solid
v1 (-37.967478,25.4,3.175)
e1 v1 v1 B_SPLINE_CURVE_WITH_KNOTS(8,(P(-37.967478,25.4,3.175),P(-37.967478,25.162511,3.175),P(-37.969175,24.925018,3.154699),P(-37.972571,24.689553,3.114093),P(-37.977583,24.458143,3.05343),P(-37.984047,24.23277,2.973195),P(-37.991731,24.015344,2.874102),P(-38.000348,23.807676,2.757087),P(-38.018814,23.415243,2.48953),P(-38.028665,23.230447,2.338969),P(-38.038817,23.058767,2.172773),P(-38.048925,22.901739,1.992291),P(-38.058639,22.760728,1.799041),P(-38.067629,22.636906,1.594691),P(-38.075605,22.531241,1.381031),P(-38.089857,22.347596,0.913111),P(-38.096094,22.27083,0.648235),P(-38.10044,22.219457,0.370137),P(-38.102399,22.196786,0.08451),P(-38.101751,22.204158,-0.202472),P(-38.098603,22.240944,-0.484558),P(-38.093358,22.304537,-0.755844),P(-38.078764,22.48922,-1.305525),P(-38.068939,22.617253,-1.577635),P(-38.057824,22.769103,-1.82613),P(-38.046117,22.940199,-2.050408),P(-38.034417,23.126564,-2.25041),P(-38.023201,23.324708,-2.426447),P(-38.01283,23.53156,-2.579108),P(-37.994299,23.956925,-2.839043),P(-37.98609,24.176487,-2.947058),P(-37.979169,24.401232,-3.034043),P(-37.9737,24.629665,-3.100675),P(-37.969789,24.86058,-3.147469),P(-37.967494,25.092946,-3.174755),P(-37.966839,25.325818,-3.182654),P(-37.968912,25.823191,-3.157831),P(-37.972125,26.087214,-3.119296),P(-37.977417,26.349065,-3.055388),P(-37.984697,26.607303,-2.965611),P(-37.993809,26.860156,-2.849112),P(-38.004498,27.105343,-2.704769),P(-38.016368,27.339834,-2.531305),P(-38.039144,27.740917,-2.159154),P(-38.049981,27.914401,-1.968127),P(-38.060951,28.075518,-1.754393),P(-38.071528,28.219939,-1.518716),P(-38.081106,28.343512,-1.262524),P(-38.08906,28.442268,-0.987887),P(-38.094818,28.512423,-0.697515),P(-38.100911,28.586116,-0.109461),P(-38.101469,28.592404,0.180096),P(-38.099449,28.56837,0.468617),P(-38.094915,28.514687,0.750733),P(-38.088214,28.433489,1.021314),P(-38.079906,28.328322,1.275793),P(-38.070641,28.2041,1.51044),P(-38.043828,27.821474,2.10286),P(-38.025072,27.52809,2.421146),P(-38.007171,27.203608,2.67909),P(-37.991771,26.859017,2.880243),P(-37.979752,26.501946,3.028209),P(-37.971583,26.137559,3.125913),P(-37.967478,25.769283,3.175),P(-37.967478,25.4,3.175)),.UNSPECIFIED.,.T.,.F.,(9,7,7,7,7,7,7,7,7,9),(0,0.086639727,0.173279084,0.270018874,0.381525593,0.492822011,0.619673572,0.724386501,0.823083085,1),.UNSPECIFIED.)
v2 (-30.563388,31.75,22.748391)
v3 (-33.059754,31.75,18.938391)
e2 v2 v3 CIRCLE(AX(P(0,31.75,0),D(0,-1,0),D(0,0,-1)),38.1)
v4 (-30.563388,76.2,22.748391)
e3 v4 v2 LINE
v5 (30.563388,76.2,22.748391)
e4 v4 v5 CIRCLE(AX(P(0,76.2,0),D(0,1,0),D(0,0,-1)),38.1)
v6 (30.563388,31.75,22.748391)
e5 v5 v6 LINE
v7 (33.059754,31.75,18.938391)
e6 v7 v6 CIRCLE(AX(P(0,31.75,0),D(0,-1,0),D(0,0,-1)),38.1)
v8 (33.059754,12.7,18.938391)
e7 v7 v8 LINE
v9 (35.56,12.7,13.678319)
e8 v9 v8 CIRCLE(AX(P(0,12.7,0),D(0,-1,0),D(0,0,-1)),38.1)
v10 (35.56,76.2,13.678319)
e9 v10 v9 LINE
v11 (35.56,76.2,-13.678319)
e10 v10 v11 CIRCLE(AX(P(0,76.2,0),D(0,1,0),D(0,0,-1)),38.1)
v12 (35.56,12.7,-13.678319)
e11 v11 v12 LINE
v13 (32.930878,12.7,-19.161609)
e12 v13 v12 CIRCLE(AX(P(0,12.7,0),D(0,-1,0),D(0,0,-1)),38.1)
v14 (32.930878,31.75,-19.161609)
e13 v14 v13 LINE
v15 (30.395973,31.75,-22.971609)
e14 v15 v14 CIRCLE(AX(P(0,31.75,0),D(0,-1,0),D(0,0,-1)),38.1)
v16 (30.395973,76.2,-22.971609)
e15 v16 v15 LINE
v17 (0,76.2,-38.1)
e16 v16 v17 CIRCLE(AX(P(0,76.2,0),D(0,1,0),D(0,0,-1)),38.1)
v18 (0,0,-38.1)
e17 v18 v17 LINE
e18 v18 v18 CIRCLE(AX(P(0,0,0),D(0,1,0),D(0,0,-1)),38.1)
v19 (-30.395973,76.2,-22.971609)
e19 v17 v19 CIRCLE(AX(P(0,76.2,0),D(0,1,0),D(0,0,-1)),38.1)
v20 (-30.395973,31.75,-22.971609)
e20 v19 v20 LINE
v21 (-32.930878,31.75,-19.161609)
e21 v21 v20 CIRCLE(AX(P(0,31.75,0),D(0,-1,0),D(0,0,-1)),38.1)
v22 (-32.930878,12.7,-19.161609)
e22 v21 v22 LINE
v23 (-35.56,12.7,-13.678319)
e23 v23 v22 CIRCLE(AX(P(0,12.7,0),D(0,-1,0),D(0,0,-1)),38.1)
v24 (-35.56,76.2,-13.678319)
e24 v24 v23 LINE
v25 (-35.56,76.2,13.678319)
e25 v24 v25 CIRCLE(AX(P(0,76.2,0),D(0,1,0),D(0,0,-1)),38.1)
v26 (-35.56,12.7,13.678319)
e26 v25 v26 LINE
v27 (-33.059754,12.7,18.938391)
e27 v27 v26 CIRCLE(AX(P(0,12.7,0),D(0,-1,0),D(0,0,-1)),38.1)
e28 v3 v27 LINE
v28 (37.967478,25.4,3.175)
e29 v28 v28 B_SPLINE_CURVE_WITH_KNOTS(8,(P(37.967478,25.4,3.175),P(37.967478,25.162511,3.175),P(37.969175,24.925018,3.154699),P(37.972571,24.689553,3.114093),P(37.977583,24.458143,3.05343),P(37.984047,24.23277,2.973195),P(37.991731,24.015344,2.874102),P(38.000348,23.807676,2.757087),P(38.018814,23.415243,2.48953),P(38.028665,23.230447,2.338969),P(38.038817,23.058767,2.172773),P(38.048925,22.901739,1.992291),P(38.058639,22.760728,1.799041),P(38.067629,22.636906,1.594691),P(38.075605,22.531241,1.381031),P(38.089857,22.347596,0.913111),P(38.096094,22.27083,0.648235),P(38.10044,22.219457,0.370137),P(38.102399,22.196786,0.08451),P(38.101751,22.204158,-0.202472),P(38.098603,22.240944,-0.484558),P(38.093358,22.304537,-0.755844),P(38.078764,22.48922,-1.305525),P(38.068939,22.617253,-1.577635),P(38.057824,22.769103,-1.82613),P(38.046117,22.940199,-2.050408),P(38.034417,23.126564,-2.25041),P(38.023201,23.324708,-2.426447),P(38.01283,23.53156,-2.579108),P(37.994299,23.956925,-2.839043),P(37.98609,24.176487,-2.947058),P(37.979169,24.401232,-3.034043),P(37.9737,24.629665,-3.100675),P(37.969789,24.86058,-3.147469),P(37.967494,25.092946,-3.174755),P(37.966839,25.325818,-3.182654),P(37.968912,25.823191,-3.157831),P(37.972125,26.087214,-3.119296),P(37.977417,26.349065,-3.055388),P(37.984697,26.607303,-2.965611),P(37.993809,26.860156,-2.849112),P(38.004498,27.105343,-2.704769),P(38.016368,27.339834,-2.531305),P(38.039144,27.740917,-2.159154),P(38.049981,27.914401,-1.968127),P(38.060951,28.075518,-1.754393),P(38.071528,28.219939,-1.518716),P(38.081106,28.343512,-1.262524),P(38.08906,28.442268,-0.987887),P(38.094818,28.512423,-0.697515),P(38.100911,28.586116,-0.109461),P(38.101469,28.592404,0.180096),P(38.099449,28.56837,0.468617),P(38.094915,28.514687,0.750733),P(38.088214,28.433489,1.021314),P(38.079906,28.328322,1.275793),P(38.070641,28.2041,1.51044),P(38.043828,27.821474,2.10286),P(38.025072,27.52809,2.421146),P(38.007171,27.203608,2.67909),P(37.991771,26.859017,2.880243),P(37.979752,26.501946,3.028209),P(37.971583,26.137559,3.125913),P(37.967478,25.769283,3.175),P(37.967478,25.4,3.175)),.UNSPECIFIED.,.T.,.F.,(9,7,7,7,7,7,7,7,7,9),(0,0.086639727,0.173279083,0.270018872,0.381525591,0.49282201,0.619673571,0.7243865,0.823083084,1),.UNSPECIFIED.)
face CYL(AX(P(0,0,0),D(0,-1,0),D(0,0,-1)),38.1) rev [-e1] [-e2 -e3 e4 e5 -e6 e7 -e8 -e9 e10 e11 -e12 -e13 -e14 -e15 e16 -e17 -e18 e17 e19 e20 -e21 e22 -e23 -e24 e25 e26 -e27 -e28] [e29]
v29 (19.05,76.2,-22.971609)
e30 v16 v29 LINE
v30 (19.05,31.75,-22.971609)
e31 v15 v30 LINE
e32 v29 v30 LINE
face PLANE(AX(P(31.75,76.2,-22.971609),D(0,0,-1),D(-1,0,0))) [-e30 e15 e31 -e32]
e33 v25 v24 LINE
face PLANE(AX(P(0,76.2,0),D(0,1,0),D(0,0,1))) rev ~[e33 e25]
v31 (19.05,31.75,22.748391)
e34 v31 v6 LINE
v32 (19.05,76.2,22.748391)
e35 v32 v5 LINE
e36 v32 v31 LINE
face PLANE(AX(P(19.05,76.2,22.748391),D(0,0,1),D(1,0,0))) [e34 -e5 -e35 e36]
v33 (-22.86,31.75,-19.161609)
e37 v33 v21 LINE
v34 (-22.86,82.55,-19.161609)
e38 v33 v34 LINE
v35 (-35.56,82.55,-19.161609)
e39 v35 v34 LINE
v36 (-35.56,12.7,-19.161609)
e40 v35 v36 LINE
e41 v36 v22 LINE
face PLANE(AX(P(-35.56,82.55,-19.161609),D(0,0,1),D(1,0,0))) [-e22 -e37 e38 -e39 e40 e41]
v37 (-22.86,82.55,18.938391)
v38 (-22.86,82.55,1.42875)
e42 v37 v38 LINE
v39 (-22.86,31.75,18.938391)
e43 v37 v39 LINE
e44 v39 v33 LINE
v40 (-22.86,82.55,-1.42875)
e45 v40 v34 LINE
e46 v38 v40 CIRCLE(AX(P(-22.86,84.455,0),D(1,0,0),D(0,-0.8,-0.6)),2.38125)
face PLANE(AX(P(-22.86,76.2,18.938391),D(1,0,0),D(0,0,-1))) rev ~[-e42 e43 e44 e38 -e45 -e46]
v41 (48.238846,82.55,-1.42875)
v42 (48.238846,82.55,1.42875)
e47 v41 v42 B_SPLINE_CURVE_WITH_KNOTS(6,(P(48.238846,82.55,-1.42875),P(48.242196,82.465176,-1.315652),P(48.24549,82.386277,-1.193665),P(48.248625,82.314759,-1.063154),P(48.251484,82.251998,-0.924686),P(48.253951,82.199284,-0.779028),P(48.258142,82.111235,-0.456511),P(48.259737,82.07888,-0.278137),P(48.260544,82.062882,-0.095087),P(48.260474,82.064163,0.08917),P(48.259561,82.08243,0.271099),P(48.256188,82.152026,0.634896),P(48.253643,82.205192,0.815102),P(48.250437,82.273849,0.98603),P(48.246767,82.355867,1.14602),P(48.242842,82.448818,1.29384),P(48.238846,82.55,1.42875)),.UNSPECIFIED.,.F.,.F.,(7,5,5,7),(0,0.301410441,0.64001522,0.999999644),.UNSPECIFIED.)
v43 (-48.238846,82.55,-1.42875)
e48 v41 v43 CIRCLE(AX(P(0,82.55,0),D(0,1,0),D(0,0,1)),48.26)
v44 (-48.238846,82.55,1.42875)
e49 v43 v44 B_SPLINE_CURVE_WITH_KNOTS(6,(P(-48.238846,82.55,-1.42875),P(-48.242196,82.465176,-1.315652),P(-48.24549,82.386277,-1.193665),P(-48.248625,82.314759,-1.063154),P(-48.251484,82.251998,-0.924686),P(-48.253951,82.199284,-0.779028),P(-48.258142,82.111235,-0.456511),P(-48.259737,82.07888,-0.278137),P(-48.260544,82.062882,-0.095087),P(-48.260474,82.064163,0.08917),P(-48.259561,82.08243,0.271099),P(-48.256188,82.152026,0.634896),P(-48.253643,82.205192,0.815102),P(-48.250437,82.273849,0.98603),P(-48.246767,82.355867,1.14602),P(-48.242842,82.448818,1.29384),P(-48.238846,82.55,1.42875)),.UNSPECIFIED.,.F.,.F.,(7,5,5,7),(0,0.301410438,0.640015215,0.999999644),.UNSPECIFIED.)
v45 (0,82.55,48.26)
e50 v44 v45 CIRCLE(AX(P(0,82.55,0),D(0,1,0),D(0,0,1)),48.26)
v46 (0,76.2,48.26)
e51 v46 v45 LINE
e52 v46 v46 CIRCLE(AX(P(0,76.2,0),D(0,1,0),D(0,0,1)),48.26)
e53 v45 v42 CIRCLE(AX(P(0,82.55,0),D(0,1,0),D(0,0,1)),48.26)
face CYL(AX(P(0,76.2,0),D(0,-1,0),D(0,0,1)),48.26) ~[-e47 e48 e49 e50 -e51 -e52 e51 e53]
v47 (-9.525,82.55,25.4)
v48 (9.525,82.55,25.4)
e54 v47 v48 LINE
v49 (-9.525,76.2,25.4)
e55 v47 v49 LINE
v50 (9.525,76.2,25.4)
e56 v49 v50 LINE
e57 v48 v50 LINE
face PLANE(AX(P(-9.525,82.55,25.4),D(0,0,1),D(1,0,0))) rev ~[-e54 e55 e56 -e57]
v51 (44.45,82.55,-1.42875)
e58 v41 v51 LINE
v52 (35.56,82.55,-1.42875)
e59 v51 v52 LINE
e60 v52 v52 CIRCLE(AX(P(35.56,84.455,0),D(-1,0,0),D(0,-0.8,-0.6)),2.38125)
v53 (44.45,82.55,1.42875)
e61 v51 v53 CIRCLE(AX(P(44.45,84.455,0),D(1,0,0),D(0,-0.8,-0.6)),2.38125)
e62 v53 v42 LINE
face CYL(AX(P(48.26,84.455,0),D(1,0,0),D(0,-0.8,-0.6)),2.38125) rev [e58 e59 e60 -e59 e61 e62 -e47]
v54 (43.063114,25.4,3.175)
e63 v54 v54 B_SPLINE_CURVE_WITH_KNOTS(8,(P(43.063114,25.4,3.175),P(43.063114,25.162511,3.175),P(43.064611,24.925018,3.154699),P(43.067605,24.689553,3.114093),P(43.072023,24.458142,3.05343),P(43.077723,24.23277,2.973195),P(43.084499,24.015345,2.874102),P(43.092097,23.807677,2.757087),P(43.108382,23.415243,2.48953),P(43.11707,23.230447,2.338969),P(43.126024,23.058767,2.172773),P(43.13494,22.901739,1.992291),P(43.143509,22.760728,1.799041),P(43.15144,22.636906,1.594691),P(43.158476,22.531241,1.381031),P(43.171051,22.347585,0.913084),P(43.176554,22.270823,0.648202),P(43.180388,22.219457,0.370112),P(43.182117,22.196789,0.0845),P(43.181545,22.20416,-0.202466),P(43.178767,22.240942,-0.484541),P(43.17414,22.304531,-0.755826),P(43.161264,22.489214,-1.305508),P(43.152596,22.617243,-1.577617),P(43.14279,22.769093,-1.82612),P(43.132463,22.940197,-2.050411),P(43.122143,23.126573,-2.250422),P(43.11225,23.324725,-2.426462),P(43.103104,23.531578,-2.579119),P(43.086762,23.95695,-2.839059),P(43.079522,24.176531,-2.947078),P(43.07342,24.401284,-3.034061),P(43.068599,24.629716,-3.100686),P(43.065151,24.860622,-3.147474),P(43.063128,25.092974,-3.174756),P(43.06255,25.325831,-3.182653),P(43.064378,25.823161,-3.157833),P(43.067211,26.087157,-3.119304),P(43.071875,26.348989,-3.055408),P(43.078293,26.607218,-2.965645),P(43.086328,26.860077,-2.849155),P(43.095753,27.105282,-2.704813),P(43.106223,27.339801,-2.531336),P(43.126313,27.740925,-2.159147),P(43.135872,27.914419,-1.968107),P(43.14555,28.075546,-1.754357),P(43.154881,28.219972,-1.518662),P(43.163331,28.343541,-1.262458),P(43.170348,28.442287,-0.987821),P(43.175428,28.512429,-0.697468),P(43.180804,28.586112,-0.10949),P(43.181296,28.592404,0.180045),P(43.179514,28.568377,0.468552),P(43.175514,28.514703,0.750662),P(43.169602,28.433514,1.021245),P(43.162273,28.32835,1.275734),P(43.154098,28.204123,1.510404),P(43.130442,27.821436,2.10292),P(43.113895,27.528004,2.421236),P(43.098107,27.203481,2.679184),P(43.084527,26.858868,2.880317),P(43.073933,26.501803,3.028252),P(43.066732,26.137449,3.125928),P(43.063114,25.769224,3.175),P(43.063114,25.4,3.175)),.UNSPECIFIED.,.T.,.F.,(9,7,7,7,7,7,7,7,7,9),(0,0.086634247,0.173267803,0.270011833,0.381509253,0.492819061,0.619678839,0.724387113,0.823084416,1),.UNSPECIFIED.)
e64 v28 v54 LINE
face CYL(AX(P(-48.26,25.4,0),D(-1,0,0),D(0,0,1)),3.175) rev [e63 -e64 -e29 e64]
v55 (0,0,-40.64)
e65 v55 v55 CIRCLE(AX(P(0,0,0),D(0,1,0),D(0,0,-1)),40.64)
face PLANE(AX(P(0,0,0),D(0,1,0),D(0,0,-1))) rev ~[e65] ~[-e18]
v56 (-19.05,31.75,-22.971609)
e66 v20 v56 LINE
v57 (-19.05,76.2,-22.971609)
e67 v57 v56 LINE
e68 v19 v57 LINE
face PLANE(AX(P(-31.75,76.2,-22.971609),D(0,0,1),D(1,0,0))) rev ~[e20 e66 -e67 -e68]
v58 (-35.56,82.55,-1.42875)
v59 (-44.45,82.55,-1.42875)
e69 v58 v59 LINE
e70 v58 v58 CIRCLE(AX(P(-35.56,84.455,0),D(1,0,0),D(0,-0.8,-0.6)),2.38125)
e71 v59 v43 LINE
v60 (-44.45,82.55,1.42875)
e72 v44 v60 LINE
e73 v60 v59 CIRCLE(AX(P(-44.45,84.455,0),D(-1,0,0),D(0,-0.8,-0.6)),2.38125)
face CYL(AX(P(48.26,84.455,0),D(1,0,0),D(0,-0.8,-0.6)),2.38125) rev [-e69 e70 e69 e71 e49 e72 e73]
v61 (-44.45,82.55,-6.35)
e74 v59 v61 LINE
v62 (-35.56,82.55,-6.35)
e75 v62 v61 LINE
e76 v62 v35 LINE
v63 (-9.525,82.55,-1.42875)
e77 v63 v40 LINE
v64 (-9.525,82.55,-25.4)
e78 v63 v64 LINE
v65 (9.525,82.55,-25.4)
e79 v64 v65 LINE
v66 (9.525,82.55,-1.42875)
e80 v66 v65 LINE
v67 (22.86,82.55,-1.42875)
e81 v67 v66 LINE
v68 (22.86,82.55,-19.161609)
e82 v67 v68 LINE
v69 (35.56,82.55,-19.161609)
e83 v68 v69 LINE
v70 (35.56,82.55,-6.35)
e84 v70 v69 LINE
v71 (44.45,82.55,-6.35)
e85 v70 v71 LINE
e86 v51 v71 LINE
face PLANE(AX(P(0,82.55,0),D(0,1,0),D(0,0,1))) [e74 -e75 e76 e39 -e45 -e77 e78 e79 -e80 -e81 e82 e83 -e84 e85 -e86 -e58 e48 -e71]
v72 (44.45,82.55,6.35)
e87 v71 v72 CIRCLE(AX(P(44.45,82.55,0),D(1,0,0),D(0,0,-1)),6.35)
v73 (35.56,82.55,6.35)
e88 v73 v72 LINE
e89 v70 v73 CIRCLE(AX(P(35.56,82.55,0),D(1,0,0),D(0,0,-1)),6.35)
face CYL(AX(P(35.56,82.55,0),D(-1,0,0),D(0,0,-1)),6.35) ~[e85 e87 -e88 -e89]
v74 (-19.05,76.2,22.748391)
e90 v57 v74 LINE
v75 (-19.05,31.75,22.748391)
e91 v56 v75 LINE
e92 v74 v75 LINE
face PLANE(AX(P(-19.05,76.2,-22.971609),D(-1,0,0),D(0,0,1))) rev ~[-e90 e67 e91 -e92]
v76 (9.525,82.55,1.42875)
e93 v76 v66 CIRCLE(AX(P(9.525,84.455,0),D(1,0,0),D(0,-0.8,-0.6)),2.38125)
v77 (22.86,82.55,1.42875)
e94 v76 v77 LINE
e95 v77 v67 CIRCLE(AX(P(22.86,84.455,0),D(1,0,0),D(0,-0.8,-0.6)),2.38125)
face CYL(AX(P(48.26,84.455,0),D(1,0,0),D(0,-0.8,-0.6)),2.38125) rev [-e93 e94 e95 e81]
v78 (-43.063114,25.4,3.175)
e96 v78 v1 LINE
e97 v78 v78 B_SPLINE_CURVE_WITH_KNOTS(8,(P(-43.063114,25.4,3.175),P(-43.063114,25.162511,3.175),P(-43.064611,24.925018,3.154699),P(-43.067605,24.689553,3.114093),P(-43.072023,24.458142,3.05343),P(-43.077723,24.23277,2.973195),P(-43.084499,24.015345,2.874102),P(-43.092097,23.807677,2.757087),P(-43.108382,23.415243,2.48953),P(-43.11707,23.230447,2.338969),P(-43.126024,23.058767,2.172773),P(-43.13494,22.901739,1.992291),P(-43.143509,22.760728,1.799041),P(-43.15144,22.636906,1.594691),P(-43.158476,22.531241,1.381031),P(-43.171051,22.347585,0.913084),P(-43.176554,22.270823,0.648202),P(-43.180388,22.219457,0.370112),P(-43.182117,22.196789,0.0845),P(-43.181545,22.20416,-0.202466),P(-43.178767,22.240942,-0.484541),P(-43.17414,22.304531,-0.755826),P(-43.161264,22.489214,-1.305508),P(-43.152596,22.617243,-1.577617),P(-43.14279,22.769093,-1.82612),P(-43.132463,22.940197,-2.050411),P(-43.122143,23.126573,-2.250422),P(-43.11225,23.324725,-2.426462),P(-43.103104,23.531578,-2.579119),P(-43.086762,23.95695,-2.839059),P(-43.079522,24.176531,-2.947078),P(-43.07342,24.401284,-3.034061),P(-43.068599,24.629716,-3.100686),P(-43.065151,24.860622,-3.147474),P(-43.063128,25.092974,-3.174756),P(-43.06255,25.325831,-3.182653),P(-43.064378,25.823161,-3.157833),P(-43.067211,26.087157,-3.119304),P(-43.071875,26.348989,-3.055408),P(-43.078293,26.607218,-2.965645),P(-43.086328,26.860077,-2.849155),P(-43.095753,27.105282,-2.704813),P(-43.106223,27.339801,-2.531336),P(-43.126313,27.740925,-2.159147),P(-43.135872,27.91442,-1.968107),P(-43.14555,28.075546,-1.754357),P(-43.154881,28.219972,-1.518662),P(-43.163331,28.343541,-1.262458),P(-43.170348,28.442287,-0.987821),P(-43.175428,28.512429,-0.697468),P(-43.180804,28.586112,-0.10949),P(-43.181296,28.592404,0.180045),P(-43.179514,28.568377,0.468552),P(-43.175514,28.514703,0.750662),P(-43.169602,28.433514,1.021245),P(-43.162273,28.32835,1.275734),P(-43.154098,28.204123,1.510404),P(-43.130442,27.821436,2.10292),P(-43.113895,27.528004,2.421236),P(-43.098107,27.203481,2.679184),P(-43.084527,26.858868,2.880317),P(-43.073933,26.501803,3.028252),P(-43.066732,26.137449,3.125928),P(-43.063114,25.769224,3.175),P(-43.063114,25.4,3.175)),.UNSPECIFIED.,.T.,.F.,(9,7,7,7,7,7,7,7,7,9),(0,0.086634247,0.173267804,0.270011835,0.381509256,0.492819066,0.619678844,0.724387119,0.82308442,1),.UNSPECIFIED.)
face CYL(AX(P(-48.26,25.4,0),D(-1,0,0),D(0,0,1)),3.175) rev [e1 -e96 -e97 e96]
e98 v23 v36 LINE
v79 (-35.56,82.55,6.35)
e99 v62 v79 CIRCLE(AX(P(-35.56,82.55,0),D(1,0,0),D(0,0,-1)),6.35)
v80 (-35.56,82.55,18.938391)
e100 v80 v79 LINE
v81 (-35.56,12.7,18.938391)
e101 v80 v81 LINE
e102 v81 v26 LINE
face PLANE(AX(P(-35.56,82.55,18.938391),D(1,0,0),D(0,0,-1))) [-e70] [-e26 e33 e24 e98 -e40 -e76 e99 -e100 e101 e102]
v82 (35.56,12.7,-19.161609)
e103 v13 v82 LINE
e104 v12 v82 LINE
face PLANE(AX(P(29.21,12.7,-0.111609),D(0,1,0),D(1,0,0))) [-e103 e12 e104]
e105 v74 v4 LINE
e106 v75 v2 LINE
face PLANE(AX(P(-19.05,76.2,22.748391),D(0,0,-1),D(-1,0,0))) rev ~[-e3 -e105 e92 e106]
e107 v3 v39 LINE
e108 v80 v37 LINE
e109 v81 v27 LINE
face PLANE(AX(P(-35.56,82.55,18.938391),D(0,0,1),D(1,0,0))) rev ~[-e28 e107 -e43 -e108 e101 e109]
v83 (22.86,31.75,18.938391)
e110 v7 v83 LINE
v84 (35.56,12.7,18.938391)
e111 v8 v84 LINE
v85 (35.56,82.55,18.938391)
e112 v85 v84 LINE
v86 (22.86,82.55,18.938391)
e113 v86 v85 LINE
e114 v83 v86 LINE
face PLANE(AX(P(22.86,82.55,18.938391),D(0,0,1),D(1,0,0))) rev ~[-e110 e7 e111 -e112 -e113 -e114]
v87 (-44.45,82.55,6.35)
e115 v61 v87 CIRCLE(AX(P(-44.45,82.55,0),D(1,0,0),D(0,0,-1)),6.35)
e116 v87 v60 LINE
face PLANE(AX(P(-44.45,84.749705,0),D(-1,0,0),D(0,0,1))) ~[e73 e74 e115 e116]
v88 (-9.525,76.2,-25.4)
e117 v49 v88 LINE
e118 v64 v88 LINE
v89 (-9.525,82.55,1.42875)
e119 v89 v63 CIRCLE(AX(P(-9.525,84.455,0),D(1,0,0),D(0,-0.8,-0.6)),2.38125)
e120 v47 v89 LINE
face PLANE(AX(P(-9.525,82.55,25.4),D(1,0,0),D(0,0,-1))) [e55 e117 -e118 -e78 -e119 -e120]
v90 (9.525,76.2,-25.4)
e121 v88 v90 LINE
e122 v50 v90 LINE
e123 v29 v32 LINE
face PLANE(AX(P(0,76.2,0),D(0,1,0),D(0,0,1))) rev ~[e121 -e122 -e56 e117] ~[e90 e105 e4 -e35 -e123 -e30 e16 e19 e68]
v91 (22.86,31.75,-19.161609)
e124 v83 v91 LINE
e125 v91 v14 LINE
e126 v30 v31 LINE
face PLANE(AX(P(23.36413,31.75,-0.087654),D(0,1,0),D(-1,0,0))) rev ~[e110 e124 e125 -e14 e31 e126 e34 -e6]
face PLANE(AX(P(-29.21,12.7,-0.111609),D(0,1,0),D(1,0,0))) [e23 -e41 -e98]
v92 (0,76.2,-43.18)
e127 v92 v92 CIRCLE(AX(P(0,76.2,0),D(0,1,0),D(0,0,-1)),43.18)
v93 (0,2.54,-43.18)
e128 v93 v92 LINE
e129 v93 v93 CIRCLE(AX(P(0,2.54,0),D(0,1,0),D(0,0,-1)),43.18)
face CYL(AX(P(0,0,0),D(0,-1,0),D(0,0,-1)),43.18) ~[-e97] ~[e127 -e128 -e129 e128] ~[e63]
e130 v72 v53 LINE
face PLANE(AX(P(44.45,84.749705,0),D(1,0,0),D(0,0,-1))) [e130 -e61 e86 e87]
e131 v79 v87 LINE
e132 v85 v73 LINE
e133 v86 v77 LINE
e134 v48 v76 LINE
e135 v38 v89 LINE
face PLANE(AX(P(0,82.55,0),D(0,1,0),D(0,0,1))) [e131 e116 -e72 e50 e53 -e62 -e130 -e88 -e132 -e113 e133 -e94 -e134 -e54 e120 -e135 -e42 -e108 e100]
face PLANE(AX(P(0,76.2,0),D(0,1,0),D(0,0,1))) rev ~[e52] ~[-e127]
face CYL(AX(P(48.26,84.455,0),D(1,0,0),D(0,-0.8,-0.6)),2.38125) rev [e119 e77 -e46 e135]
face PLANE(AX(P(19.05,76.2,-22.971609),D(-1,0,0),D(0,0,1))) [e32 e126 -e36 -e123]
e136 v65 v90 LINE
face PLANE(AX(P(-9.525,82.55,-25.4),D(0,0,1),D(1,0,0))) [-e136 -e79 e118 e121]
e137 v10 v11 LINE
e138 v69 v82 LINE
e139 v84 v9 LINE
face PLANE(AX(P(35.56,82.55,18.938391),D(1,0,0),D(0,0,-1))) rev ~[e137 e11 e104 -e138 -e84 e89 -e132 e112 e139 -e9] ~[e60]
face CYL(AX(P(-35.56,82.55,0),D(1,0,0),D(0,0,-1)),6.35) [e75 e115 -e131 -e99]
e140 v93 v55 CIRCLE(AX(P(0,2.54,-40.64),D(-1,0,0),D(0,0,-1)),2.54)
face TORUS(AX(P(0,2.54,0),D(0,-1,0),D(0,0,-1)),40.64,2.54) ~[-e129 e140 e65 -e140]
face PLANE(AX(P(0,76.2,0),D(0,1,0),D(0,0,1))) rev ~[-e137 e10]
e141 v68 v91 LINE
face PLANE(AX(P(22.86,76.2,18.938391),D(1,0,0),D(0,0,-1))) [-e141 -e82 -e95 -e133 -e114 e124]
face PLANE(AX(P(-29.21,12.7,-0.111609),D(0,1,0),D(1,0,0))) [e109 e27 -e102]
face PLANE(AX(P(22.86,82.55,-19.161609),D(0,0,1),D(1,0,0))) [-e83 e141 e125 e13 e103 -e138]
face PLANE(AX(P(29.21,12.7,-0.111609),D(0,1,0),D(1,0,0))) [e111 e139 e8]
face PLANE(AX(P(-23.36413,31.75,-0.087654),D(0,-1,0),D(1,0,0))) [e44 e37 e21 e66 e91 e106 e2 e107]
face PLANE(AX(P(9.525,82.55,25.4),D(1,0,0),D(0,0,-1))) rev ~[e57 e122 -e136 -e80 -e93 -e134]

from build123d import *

# Parameters (mm, degrees)
SKETCH1_R               = 43.18
SKETCH1_R_2             = 38.1
BOSS_EXTRUDE1_DEPTH     = 76.2
SKETCH4_R               = 48.26
BOSS_EXTRUDE2_DEPTH     = 6.35
SKETCH5_W               = 19.05
SKETCH5_H               = 50.8
CUT_EXTRUDE2_DEPTH      = 6.35
BOSS_EXTRUDE3_DEPTH     = 8.89
CUT_EXTRUDE3_START      = -12.7
SKETCH7_R               = 2.38125
CUT_EXTRUDE3_DEPTH      = 99.06
CUT_EXTRUDE4_DEPTH      = 48.26
CUT_EXTRUDE4_DEPTH_BACK = 48.26
SKETCH8_R               = 3.175
FILLET2_R               = 2.54
SKETCH11_W              = 12.7
SKETCH11_H              = 38.1
CUT_EXTRUDE5_DEPTH      = 69.85
BOSS_EXTRUDE4_DEPTH     = 44.45


with BuildPart() as part:
    # Sketch1 → Boss-Extrude1 (new body)
    with BuildSketch(Plane(origin=(0, 0, 0), x_dir=(1, 0, 0), z_dir=(0, 1, 0))):
        with Locations(Location((0, 0, 0), (0, 0, 90))):
            Circle(SKETCH1_R)
        with Locations(Location((0, 0, 0), (0, 0, 90))):
            Circle(SKETCH1_R_2, mode=Mode.SUBTRACT)
    extrude(amount=BOSS_EXTRUDE1_DEPTH)

    # Sketch4 → Boss-Extrude2 (add)
    with BuildSketch(Plane(origin=(0, 76.2, 0), x_dir=(1, 0, 0), z_dir=(0, 1, 0))):
        with Locations(Location((0, 0, 0), (0, 0, 270))):
            Circle(SKETCH4_R)
    extrude(amount=BOSS_EXTRUDE2_DEPTH)

    # Sketch5 → Cut-Extrude2 (cut)
    with BuildSketch(Plane(origin=(0, 82.55, 0), x_dir=(1, 0, 0), z_dir=(0, 1, 0))):
        Rectangle(SKETCH5_W, SKETCH5_H)
    extrude(amount=-CUT_EXTRUDE2_DEPTH, mode=Mode.SUBTRACT)

    # Sketch6 → Boss-Extrude3 (add)
    with BuildSketch(Plane(origin=(35.56, 0, 0), x_dir=(0, 0, -1), z_dir=(1, 0, 0))):
        with BuildLine():
            Line((-6.35, 82.55), (6.35, 82.55))
            ThreePointArc((6.35, 82.55), (0, 88.9), (-6.35, 82.55))
        make_face()
    boss_extrude3 = extrude(amount=BOSS_EXTRUDE3_DEPTH)

    # Sketch7 → Cut-Extrude3 (cut)
    with BuildSketch(Plane.ZY.offset(-35.56).offset(CUT_EXTRUDE3_START)):
        with Locations(Location((0, 84.455, 0), (0, 0, 233.130102354))):
            Circle(SKETCH7_R)
    cut_extrude3 = extrude(amount=CUT_EXTRUDE3_DEPTH, mode=Mode.SUBTRACT)

    # Mirror1: Boss-Extrude3, Cut-Extrude3 across plane
    add(boss_extrude3.mirror(Plane(origin=(0, 0, 0), x_dir=(0, 0, 1), z_dir=(1, 0, 0))))
    add(cut_extrude3.mirror(Plane(origin=(0, 0, 0), x_dir=(0, 0, 1), z_dir=(1, 0, 0))), mode=Mode.SUBTRACT)

    # Sketch8 → Cut-Extrude4 (cut, two sides: drawn at the far end of the back side and taken through both)
    with BuildSketch(Plane(origin=(0, 0, 0), x_dir=(0, 0, -1), z_dir=(1, 0, 0)).offset(-CUT_EXTRUDE4_DEPTH_BACK)):
        with Locations(Location((0, 25.4, 0), (0, 0, 180))):
            Circle(SKETCH8_R)
    extrude(amount=CUT_EXTRUDE4_DEPTH + CUT_EXTRUDE4_DEPTH_BACK, mode=Mode.SUBTRACT)

    # Fillet2
    fillet2_edges = [part.edges().sort_by_distance(p)[0] for p in [
        (0, 0, 43.18),
    ]]
    fillet(fillet2_edges, radius=FILLET2_R)

    # Sketch11 → Cut-Extrude5 (cut)
    with BuildSketch(Plane(origin=(0, 82.55, 0), x_dir=(1, 0, 0), z_dir=(0, 1, 0))):
        with Locations((29.21, 0.11160914)):
            Rectangle(SKETCH11_W, SKETCH11_H)
        with Locations((-29.21, 0.11160914)):
            Rectangle(SKETCH11_W, SKETCH11_H)
    extrude(amount=-CUT_EXTRUDE5_DEPTH, mode=Mode.SUBTRACT)

    # Sketch12 → Boss-Extrude4 (add)
    with BuildSketch(Plane.XZ.offset(-76.2)):
        Polygon((-19.05, 22.74839086), (-31.75, 22.74839086), (-33.059754259, 18.93839086), (-22.86, 18.93839086), (-22.86, -19.16160914), (-32.930878141, -19.16160914), (-31.75, -22.97160914), (-19.05, -22.97160914), align=None)
        Polygon((22.86, 18.93839086), (22.86, -19.16160914), (32.930878141, -19.16160914), (31.75, -22.97160914), (19.05, -22.97160914), (19.05, 22.74839086), (31.75, 22.74839086), (33.059754259, 18.93839086), align=None)
    extrude(amount=BOSS_EXTRUDE4_DEPTH)


solid = part.part
